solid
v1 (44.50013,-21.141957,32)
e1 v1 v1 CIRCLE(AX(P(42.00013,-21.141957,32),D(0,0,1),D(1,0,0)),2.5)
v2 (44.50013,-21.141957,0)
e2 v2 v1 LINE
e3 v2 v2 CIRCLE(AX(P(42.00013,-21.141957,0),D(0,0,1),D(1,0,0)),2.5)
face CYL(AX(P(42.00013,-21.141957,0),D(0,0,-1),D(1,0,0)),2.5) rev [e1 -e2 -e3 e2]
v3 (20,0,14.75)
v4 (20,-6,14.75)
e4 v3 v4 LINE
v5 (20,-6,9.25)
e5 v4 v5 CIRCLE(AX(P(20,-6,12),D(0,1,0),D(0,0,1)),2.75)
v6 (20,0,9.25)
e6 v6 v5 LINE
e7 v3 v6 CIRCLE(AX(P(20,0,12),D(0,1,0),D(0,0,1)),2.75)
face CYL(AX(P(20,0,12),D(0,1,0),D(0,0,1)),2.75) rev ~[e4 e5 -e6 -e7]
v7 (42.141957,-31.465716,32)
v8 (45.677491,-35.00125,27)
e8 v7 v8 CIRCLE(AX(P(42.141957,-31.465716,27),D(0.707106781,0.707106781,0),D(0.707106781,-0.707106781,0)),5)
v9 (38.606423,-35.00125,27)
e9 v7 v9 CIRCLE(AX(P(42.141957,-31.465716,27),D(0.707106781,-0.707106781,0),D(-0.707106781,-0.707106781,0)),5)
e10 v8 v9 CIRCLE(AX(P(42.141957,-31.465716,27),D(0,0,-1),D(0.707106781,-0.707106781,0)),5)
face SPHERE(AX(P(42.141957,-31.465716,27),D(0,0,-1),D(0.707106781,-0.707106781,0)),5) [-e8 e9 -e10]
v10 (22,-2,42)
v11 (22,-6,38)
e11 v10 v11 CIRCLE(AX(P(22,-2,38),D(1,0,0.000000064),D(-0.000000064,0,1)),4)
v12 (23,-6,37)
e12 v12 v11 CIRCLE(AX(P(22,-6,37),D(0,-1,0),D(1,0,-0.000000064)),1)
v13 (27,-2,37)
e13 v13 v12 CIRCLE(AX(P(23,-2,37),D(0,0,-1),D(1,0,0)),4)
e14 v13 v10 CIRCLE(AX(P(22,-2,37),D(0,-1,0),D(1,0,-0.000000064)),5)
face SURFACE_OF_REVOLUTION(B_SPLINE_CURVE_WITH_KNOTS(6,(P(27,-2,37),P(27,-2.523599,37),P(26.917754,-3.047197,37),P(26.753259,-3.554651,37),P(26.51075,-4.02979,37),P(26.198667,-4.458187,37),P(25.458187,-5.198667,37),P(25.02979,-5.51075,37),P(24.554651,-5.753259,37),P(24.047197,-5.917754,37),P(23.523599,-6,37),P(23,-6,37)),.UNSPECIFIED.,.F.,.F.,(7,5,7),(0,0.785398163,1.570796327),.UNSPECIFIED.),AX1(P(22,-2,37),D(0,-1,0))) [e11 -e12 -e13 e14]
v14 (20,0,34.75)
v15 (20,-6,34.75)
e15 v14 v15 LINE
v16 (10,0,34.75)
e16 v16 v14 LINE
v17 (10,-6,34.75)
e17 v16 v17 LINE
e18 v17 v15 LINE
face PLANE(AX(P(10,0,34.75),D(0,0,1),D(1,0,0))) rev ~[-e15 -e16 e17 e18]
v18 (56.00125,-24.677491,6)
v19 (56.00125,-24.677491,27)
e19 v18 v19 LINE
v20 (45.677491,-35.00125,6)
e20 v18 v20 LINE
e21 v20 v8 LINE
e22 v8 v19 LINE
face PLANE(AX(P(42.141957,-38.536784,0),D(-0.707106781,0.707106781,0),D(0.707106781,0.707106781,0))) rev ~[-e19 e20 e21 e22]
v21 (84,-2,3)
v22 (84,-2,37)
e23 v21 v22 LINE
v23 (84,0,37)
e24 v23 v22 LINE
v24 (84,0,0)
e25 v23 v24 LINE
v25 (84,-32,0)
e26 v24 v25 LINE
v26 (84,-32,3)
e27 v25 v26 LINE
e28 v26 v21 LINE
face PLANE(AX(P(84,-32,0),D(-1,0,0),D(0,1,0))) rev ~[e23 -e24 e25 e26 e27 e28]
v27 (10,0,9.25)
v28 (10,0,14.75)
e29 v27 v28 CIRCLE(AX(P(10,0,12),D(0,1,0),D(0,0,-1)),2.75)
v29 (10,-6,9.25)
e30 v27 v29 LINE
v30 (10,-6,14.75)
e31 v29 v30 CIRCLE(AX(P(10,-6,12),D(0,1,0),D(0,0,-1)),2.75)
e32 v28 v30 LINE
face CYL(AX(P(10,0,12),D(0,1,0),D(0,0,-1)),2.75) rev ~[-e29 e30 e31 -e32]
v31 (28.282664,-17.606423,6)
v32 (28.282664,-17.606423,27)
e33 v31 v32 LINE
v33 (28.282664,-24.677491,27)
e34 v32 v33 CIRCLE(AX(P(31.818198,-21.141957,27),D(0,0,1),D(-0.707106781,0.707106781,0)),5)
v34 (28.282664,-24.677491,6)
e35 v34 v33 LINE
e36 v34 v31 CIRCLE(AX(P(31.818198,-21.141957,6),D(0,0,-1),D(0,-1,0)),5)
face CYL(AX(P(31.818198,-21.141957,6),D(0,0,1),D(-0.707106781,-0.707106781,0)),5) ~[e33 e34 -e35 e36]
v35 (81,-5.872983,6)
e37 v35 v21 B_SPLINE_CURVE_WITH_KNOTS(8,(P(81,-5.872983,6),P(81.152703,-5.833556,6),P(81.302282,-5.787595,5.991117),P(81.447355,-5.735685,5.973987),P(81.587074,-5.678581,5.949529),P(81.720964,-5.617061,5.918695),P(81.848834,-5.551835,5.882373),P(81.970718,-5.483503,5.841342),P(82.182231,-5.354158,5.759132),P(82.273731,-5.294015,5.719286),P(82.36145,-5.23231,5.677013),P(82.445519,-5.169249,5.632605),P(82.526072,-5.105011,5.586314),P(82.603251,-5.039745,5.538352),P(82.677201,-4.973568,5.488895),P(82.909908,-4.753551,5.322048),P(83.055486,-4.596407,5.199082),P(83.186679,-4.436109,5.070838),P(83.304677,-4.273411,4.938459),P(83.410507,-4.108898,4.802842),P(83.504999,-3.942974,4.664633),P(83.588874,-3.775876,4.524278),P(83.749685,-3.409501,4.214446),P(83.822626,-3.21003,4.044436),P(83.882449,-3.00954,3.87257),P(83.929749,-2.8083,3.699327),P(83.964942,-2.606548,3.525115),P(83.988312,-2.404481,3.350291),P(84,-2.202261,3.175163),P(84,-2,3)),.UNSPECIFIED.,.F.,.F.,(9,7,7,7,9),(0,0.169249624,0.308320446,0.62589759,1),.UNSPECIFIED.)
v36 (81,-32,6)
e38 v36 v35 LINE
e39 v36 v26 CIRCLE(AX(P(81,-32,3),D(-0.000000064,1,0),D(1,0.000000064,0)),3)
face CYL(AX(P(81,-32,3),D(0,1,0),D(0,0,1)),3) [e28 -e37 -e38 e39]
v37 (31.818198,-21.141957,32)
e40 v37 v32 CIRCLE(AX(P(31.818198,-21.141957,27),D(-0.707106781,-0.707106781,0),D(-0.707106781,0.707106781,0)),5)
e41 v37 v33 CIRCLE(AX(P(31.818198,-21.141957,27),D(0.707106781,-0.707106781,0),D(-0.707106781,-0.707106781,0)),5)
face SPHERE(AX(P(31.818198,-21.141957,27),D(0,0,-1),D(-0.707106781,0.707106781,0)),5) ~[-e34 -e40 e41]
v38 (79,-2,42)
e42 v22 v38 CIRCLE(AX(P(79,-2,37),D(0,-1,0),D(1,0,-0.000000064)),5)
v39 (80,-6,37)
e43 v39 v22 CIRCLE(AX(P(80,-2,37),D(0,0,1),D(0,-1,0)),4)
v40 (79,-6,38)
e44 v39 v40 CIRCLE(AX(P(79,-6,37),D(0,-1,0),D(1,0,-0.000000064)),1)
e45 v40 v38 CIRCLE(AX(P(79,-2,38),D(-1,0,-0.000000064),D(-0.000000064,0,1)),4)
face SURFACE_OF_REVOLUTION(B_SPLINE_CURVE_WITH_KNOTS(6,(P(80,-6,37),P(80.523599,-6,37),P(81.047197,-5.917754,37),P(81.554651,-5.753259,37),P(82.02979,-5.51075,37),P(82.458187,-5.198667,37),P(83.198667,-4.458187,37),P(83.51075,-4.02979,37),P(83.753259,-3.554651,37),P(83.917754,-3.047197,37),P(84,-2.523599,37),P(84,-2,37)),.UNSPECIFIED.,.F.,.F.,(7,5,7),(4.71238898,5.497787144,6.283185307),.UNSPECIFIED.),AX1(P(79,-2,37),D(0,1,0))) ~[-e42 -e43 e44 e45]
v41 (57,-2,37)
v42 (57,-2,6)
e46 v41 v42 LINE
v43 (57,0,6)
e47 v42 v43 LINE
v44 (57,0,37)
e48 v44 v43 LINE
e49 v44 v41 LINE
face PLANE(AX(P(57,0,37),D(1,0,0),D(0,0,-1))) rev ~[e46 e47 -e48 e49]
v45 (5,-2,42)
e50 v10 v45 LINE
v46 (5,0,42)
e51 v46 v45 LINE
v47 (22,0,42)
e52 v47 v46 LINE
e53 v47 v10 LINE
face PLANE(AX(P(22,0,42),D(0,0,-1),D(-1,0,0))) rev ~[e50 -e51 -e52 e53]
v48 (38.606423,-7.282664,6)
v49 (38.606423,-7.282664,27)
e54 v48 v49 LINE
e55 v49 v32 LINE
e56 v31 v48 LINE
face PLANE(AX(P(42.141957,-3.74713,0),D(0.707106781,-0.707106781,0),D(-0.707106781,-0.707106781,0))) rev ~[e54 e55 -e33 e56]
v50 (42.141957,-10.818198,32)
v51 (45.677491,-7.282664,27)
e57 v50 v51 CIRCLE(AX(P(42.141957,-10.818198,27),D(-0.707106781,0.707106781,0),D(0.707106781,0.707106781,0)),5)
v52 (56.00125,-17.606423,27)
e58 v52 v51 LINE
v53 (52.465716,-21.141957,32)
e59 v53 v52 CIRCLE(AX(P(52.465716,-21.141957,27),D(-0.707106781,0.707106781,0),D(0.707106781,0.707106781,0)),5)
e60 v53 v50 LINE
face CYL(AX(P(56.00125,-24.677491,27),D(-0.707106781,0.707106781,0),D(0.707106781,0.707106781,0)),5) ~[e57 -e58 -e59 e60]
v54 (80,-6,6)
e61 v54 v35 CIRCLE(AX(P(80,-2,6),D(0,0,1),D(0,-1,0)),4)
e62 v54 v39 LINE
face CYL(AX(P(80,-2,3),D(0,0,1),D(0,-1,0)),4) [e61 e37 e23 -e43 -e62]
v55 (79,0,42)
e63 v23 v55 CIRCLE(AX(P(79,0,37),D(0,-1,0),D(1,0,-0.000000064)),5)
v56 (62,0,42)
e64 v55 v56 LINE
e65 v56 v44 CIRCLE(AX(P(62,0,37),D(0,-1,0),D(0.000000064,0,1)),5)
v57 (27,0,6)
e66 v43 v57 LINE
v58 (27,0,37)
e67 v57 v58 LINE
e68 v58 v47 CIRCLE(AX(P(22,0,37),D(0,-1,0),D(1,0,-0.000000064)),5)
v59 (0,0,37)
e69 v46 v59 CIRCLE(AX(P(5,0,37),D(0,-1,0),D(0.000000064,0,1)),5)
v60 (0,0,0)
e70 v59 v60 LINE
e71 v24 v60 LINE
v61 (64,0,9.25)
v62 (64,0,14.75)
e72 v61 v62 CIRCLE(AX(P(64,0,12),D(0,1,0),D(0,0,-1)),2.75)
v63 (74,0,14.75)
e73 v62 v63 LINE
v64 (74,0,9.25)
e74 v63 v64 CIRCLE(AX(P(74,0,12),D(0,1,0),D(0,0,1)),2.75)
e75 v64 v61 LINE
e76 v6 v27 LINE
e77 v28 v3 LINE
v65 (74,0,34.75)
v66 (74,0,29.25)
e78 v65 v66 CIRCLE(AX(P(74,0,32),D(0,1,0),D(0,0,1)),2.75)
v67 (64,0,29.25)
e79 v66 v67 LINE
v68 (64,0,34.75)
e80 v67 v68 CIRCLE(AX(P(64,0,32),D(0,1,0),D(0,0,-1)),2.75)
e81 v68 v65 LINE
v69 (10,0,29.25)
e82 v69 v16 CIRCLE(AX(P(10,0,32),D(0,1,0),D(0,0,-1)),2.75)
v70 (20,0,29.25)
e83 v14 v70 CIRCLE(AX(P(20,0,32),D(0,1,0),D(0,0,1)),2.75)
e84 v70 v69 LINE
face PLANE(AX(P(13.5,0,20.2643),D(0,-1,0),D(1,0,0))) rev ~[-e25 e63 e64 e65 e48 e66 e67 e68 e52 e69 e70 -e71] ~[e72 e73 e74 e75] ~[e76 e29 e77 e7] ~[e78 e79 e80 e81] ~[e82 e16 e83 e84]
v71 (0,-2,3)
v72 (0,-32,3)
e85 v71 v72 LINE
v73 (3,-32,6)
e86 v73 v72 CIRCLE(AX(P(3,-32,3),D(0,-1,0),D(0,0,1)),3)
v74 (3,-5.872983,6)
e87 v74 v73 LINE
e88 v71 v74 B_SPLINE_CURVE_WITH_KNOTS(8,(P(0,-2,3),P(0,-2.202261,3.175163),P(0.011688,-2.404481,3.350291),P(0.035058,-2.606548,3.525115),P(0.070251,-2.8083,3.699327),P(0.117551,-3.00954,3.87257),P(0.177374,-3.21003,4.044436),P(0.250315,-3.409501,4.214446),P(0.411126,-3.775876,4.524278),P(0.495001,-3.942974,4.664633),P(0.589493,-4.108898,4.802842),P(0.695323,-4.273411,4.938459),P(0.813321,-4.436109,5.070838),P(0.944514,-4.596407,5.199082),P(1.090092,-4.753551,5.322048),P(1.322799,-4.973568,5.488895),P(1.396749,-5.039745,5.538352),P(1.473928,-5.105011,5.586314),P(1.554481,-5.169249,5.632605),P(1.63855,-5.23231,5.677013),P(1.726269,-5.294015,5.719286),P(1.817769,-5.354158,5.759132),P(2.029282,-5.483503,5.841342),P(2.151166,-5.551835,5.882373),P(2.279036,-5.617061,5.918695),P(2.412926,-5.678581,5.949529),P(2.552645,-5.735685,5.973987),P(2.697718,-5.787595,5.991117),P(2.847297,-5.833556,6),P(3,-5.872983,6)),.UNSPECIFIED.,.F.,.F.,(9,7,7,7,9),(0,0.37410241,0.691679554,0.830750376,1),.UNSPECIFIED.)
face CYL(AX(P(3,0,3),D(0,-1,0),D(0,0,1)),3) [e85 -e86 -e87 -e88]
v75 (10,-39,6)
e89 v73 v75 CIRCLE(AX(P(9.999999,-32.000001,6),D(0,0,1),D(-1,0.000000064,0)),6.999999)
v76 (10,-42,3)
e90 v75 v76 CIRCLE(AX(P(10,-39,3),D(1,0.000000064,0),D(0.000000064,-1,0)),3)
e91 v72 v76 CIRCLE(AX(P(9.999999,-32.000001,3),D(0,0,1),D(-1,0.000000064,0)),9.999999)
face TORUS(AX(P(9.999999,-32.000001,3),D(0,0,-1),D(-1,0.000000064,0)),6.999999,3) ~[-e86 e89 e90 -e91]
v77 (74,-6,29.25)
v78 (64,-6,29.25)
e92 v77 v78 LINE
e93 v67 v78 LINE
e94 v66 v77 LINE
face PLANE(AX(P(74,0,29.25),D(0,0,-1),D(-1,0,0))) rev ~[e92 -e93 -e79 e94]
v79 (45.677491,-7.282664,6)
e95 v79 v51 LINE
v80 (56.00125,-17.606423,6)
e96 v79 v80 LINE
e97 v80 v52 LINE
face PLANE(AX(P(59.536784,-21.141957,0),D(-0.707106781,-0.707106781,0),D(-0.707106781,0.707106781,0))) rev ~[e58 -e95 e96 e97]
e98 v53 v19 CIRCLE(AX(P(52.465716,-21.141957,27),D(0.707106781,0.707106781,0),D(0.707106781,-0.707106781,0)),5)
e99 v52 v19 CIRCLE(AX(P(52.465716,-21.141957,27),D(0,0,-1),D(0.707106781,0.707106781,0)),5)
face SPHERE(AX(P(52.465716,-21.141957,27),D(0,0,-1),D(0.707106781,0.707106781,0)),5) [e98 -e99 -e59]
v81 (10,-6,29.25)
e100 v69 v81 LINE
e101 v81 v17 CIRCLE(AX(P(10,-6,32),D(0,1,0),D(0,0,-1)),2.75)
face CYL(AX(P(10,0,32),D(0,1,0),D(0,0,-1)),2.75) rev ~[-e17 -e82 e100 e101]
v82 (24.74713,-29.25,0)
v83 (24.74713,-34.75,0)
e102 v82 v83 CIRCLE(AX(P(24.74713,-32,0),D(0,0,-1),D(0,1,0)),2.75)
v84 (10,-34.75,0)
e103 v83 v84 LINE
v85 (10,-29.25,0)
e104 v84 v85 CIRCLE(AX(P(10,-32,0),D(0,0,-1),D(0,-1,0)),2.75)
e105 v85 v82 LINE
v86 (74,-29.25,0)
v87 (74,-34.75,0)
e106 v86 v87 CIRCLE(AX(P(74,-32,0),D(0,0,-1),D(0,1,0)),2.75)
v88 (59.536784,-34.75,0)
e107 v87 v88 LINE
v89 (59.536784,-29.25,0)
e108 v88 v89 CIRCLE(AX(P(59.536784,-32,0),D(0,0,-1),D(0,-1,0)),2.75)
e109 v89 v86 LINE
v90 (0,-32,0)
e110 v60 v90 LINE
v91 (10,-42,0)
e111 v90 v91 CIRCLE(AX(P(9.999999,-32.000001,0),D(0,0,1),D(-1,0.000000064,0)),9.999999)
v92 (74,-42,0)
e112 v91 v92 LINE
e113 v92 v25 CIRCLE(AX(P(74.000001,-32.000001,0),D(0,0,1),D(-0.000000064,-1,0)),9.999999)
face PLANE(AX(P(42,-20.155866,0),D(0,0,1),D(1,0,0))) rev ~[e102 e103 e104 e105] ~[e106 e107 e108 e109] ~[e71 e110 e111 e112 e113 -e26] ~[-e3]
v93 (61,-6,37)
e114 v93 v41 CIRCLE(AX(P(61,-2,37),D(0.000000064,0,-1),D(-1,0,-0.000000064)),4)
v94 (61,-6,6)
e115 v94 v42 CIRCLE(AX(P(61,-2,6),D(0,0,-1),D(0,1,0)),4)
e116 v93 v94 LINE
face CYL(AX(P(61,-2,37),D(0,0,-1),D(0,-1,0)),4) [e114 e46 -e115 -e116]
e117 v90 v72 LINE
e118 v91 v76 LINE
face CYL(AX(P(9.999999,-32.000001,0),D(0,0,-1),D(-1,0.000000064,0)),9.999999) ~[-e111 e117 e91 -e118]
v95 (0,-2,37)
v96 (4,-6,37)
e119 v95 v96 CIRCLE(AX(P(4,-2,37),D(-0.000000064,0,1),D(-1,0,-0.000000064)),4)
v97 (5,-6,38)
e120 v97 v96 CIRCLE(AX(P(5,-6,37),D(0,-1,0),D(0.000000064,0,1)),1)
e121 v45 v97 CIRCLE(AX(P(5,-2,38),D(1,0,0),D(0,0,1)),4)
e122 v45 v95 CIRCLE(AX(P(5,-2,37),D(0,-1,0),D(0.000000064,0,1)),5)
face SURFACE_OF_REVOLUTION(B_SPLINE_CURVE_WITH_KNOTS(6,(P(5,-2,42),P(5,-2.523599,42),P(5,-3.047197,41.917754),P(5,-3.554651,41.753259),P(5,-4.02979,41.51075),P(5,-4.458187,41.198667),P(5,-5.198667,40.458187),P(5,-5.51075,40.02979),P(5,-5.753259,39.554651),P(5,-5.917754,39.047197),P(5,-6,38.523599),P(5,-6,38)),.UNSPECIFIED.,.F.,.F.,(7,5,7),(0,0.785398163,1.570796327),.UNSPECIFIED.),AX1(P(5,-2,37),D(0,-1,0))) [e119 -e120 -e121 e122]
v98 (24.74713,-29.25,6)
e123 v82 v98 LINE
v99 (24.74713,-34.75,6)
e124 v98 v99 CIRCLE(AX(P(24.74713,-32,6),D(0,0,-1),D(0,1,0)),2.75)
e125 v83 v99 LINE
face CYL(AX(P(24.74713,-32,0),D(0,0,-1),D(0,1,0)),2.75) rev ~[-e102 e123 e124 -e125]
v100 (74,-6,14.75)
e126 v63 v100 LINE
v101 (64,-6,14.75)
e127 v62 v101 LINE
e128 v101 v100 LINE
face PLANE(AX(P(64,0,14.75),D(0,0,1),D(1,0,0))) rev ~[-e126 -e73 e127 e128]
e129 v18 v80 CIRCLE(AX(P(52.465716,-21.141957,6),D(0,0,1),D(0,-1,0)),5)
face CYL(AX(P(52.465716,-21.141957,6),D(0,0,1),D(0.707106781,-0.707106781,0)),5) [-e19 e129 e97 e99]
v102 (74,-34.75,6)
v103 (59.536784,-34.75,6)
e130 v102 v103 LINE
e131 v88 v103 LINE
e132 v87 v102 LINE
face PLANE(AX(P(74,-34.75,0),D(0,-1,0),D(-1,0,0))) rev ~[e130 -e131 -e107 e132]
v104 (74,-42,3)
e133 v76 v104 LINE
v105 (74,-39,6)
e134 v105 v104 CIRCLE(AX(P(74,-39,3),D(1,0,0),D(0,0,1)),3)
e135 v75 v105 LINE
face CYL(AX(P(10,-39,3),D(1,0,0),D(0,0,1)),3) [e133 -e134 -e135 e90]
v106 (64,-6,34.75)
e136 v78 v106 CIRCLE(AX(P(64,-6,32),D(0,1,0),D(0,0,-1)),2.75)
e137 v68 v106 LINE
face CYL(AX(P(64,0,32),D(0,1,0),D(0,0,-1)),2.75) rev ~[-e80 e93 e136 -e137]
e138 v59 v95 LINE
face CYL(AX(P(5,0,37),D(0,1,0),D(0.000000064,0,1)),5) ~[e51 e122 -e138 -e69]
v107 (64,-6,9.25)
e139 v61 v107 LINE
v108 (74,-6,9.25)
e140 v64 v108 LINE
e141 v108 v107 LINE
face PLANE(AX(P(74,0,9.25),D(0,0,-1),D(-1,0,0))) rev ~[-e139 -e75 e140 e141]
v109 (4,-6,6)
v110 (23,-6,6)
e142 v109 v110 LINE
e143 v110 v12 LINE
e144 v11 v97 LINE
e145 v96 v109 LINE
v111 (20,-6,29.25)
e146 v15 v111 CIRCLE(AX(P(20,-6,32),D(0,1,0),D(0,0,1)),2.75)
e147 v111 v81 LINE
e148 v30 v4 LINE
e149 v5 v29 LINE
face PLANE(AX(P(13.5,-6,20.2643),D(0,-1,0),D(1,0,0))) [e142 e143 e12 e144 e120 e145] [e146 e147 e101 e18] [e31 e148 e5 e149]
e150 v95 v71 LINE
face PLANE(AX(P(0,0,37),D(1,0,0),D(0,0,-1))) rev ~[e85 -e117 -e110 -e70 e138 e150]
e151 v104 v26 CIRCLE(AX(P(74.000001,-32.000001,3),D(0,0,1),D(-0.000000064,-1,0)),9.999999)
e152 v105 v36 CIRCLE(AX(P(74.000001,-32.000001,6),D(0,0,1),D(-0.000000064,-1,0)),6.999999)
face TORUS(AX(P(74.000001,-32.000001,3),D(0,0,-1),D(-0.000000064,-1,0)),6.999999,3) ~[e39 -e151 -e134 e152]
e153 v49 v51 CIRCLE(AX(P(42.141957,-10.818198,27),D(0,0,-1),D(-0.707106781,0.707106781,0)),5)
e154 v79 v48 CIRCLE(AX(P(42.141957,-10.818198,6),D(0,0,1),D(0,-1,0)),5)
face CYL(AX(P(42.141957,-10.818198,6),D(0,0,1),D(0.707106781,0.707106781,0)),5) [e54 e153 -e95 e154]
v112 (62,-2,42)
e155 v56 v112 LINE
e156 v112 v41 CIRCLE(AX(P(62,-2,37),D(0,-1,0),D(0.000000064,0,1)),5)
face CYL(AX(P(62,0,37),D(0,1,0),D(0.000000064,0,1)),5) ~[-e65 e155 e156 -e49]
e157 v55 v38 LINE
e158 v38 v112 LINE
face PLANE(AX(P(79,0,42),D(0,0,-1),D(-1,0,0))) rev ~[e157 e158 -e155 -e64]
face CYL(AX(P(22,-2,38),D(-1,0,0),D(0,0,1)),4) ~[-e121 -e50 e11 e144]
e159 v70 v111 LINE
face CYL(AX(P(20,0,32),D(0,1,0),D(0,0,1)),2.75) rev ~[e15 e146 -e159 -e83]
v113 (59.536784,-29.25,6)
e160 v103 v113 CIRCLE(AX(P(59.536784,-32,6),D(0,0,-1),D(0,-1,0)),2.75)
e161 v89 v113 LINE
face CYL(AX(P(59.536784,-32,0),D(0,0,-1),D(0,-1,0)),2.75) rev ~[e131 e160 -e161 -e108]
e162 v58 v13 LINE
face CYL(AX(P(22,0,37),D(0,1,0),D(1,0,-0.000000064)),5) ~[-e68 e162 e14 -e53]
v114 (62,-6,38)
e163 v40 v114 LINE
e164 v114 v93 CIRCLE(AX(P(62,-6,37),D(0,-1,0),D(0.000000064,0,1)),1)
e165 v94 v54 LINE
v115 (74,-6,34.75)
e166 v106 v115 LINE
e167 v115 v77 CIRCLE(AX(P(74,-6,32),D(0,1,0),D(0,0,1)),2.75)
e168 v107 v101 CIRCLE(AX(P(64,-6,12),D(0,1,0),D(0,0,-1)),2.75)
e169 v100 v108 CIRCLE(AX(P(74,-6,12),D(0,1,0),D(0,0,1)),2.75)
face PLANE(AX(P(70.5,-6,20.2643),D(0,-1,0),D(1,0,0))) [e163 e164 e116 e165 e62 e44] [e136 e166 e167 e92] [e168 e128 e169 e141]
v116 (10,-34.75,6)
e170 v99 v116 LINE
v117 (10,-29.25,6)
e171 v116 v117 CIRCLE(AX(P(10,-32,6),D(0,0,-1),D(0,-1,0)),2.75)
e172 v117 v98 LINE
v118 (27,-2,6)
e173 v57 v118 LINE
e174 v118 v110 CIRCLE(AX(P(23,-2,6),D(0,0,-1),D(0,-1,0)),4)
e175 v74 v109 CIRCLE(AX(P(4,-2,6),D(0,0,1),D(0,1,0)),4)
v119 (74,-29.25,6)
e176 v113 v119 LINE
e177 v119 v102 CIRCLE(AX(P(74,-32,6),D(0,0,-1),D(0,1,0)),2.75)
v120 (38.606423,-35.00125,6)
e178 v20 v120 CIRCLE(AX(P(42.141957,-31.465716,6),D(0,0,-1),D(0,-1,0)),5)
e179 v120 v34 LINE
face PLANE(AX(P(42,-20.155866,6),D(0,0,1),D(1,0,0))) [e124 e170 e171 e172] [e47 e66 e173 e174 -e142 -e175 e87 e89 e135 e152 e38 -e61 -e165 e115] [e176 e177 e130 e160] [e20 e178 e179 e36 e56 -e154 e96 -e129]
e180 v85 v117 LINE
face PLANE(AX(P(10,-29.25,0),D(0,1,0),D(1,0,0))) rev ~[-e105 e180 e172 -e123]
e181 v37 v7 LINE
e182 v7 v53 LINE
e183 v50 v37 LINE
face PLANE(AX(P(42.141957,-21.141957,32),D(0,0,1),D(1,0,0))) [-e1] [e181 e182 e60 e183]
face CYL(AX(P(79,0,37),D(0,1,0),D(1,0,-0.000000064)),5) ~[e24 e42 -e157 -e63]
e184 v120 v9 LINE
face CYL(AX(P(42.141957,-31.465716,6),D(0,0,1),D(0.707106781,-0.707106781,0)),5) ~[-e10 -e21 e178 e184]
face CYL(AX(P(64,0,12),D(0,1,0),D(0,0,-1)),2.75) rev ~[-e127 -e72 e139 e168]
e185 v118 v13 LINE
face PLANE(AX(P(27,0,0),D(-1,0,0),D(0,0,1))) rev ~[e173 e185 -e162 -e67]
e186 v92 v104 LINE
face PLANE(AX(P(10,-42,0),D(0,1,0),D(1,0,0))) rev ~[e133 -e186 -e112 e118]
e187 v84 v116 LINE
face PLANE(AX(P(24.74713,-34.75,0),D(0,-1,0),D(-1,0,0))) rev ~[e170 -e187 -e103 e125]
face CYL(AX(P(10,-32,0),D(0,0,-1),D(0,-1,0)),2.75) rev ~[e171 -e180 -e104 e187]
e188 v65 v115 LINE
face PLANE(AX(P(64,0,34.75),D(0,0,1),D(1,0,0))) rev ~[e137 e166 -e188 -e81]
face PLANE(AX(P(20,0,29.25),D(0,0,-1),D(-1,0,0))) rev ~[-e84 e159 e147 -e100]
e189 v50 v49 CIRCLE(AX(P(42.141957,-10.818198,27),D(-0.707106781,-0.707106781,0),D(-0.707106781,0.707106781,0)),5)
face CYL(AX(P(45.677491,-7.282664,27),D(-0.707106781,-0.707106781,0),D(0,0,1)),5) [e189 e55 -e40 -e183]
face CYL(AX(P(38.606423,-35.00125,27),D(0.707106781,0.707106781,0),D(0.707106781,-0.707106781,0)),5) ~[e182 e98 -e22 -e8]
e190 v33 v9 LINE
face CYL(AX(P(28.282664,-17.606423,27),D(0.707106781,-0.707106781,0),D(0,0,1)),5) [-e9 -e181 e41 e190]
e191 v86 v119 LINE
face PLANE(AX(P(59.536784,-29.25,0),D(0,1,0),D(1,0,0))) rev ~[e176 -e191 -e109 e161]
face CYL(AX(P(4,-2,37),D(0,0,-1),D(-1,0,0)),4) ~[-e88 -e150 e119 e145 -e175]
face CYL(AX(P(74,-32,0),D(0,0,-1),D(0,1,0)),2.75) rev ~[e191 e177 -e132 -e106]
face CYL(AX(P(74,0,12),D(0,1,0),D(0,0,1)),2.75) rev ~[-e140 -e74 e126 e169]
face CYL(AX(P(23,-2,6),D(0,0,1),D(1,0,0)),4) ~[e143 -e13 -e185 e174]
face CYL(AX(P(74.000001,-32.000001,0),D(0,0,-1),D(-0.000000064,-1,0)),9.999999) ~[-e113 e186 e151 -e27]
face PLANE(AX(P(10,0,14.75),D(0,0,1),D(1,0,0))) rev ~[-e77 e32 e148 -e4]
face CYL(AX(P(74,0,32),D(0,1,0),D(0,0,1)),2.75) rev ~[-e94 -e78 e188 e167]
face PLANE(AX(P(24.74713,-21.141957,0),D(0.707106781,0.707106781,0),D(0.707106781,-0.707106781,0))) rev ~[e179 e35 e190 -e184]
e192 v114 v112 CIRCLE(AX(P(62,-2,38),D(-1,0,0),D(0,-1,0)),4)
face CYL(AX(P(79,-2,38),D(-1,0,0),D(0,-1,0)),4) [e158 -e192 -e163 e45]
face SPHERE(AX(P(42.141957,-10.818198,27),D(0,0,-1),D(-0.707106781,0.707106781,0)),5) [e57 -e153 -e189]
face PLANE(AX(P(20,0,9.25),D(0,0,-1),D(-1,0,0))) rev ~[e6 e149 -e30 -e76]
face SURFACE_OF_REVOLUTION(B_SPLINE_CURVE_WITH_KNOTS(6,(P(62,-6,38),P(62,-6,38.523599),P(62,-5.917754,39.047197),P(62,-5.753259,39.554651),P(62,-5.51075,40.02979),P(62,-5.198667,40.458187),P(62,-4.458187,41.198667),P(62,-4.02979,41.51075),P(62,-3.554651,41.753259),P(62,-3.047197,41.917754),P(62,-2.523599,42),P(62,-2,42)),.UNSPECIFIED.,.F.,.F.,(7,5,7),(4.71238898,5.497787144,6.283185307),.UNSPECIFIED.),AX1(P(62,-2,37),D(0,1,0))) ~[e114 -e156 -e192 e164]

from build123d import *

# Parameters (mm, degrees)
F1_DEPTH = 6
F0_R     = 2.5
F2_DEPTH = 32
F3_R     = 5
F4_R     = 3
F6_DEPTH = 6
F7_R     = 4


with BuildPart() as f1:
    # F0 (on Top) → F1 (new body)
    with BuildSketch(Plane.XY):
        with BuildLine():
            Line((84, 0), (0, 0))
            Line((0, 0), (0, -32))
            ThreePointArc((0, -32), (2.928932, -39.071068), (10, -42))
            Line((10, -42), (74, -42))
            ThreePointArc((74, -42), (81.071068, -39.071068), (84, -32))
            Line((84, -32), (84, 0))
        make_face()
        with BuildLine():
            ThreePointArc((10, -34.75), (7.25, -32), (10, -29.25))
            Line((10, -29.25), (24.74713, -29.25))
            ThreePointArc((24.74713, -29.25), (27.49713, -32), (24.74713, -34.75))
            Line((24.74713, -34.75), (10, -34.75))
        make_face(mode=Mode.SUBTRACT)
        with BuildLine():
            ThreePointArc((59.536784, -34.75), (56.786784, -32), (59.536784, -29.25))
            Line((59.536784, -29.25), (74, -29.25))
            ThreePointArc((74, -29.25), (76.75, -32), (74, -34.75))
            Line((74, -34.75), (59.536784, -34.75))
        make_face(mode=Mode.SUBTRACT)
        Polygon((42.141957, -3.74713), (59.536784, -21.141957), (42.141957, -38.536784), (24.74713, -21.141957), align=None, mode=Mode.SUBTRACT)
    extrude(amount=F1_DEPTH)

    # F0 (on Top) → F2 (join)
    with BuildSketch(Plane.XY):
        Polygon((42.141957, -38.536784), (59.536784, -21.141957), (42.141957, -3.74713), (24.74713, -21.141957), align=None)
        with Locations((42.00013, -21.141957)):
            Circle(F0_R, mode=Mode.SUBTRACT)
    extrude(amount=F2_DEPTH)

    # F3
    f3_edges = [f1.edges().sort_by_distance(p)[0] for p in [
        (42.141957, -38.536784, 19),
        (24.74713, -21.141957, 19),
        (59.536784, -21.141957, 19),
        (42.141957, -3.74713, 19),
        (33.444544, -12.444544, 32),
        (50.83937, -12.444544, 32),
        (50.83937, -29.83937, 32),
        (33.444544, -29.83937, 32),
    ]]
    fillet(f3_edges, radius=F3_R)

    # F4
    f4_edges = [f1.edges().sort_by_distance(p)[0] for p in [
        (42, -42, 6),
    ]]
    fillet(f4_edges, radius=F4_R)

    # F5 (on Front) → F6 (join)
    with BuildSketch(Plane.XZ):
        with BuildLine():
            Line((0, 37), (0, 0))
            Line((0, 0), (27, 0))
            Line((27, 0), (27, 37))
            ThreePointArc((27, 37), (25.535534, 40.535534), (22, 42))
            Line((22, 42), (5, 42))
            ThreePointArc((5, 42), (1.464466, 40.535534), (0, 37))
        make_face()
        with BuildLine():
            ThreePointArc((10, 9.25), (7.25, 12), (10, 14.75))
            Line((10, 14.75), (20, 14.75))
            ThreePointArc((20, 14.75), (22.75, 12), (20, 9.25))
            Line((20, 9.25), (10, 9.25))
        make_face(mode=Mode.SUBTRACT)
        with BuildLine():
            ThreePointArc((20, 34.75), (22.75, 32), (20, 29.25))
            Line((20, 29.25), (10, 29.25))
            ThreePointArc((10, 29.25), (7.25, 32), (10, 34.75))
            Line((10, 34.75), (20, 34.75))
        make_face(mode=Mode.SUBTRACT)
        with BuildLine():
            Line((84, 0), (84, 37))
            ThreePointArc((84, 37), (82.535534, 40.535534), (79, 42))
            Line((79, 42), (62, 42))
            ThreePointArc((62, 42), (58.464466, 40.535534), (57, 37))
            Line((57, 37), (57, 0))
            Line((57, 0), (84, 0))
        make_face()
        with BuildLine():
            ThreePointArc((64, 9.25), (61.25, 12), (64, 14.75))
            Line((64, 14.75), (74, 14.75))
            ThreePointArc((74, 14.75), (76.75, 12), (74, 9.25))
            Line((74, 9.25), (64, 9.25))
        make_face(mode=Mode.SUBTRACT)
        with BuildLine():
            ThreePointArc((64, 29.25), (61.25, 32), (64, 34.75))
            Line((64, 34.75), (74, 34.75))
            ThreePointArc((74, 34.75), (76.75, 32), (74, 29.25))
            Line((74, 29.25), (64, 29.25))
        make_face(mode=Mode.SUBTRACT)
    extrude(amount=F6_DEPTH)

    # F7
    f7_edges = [f1.edges().sort_by_distance(p)[0] for p in [
        (0, -6, 20),
        (84, -6, 20),
    ]]
    fillet(f7_edges, radius=F7_R)


solid = f1.part
